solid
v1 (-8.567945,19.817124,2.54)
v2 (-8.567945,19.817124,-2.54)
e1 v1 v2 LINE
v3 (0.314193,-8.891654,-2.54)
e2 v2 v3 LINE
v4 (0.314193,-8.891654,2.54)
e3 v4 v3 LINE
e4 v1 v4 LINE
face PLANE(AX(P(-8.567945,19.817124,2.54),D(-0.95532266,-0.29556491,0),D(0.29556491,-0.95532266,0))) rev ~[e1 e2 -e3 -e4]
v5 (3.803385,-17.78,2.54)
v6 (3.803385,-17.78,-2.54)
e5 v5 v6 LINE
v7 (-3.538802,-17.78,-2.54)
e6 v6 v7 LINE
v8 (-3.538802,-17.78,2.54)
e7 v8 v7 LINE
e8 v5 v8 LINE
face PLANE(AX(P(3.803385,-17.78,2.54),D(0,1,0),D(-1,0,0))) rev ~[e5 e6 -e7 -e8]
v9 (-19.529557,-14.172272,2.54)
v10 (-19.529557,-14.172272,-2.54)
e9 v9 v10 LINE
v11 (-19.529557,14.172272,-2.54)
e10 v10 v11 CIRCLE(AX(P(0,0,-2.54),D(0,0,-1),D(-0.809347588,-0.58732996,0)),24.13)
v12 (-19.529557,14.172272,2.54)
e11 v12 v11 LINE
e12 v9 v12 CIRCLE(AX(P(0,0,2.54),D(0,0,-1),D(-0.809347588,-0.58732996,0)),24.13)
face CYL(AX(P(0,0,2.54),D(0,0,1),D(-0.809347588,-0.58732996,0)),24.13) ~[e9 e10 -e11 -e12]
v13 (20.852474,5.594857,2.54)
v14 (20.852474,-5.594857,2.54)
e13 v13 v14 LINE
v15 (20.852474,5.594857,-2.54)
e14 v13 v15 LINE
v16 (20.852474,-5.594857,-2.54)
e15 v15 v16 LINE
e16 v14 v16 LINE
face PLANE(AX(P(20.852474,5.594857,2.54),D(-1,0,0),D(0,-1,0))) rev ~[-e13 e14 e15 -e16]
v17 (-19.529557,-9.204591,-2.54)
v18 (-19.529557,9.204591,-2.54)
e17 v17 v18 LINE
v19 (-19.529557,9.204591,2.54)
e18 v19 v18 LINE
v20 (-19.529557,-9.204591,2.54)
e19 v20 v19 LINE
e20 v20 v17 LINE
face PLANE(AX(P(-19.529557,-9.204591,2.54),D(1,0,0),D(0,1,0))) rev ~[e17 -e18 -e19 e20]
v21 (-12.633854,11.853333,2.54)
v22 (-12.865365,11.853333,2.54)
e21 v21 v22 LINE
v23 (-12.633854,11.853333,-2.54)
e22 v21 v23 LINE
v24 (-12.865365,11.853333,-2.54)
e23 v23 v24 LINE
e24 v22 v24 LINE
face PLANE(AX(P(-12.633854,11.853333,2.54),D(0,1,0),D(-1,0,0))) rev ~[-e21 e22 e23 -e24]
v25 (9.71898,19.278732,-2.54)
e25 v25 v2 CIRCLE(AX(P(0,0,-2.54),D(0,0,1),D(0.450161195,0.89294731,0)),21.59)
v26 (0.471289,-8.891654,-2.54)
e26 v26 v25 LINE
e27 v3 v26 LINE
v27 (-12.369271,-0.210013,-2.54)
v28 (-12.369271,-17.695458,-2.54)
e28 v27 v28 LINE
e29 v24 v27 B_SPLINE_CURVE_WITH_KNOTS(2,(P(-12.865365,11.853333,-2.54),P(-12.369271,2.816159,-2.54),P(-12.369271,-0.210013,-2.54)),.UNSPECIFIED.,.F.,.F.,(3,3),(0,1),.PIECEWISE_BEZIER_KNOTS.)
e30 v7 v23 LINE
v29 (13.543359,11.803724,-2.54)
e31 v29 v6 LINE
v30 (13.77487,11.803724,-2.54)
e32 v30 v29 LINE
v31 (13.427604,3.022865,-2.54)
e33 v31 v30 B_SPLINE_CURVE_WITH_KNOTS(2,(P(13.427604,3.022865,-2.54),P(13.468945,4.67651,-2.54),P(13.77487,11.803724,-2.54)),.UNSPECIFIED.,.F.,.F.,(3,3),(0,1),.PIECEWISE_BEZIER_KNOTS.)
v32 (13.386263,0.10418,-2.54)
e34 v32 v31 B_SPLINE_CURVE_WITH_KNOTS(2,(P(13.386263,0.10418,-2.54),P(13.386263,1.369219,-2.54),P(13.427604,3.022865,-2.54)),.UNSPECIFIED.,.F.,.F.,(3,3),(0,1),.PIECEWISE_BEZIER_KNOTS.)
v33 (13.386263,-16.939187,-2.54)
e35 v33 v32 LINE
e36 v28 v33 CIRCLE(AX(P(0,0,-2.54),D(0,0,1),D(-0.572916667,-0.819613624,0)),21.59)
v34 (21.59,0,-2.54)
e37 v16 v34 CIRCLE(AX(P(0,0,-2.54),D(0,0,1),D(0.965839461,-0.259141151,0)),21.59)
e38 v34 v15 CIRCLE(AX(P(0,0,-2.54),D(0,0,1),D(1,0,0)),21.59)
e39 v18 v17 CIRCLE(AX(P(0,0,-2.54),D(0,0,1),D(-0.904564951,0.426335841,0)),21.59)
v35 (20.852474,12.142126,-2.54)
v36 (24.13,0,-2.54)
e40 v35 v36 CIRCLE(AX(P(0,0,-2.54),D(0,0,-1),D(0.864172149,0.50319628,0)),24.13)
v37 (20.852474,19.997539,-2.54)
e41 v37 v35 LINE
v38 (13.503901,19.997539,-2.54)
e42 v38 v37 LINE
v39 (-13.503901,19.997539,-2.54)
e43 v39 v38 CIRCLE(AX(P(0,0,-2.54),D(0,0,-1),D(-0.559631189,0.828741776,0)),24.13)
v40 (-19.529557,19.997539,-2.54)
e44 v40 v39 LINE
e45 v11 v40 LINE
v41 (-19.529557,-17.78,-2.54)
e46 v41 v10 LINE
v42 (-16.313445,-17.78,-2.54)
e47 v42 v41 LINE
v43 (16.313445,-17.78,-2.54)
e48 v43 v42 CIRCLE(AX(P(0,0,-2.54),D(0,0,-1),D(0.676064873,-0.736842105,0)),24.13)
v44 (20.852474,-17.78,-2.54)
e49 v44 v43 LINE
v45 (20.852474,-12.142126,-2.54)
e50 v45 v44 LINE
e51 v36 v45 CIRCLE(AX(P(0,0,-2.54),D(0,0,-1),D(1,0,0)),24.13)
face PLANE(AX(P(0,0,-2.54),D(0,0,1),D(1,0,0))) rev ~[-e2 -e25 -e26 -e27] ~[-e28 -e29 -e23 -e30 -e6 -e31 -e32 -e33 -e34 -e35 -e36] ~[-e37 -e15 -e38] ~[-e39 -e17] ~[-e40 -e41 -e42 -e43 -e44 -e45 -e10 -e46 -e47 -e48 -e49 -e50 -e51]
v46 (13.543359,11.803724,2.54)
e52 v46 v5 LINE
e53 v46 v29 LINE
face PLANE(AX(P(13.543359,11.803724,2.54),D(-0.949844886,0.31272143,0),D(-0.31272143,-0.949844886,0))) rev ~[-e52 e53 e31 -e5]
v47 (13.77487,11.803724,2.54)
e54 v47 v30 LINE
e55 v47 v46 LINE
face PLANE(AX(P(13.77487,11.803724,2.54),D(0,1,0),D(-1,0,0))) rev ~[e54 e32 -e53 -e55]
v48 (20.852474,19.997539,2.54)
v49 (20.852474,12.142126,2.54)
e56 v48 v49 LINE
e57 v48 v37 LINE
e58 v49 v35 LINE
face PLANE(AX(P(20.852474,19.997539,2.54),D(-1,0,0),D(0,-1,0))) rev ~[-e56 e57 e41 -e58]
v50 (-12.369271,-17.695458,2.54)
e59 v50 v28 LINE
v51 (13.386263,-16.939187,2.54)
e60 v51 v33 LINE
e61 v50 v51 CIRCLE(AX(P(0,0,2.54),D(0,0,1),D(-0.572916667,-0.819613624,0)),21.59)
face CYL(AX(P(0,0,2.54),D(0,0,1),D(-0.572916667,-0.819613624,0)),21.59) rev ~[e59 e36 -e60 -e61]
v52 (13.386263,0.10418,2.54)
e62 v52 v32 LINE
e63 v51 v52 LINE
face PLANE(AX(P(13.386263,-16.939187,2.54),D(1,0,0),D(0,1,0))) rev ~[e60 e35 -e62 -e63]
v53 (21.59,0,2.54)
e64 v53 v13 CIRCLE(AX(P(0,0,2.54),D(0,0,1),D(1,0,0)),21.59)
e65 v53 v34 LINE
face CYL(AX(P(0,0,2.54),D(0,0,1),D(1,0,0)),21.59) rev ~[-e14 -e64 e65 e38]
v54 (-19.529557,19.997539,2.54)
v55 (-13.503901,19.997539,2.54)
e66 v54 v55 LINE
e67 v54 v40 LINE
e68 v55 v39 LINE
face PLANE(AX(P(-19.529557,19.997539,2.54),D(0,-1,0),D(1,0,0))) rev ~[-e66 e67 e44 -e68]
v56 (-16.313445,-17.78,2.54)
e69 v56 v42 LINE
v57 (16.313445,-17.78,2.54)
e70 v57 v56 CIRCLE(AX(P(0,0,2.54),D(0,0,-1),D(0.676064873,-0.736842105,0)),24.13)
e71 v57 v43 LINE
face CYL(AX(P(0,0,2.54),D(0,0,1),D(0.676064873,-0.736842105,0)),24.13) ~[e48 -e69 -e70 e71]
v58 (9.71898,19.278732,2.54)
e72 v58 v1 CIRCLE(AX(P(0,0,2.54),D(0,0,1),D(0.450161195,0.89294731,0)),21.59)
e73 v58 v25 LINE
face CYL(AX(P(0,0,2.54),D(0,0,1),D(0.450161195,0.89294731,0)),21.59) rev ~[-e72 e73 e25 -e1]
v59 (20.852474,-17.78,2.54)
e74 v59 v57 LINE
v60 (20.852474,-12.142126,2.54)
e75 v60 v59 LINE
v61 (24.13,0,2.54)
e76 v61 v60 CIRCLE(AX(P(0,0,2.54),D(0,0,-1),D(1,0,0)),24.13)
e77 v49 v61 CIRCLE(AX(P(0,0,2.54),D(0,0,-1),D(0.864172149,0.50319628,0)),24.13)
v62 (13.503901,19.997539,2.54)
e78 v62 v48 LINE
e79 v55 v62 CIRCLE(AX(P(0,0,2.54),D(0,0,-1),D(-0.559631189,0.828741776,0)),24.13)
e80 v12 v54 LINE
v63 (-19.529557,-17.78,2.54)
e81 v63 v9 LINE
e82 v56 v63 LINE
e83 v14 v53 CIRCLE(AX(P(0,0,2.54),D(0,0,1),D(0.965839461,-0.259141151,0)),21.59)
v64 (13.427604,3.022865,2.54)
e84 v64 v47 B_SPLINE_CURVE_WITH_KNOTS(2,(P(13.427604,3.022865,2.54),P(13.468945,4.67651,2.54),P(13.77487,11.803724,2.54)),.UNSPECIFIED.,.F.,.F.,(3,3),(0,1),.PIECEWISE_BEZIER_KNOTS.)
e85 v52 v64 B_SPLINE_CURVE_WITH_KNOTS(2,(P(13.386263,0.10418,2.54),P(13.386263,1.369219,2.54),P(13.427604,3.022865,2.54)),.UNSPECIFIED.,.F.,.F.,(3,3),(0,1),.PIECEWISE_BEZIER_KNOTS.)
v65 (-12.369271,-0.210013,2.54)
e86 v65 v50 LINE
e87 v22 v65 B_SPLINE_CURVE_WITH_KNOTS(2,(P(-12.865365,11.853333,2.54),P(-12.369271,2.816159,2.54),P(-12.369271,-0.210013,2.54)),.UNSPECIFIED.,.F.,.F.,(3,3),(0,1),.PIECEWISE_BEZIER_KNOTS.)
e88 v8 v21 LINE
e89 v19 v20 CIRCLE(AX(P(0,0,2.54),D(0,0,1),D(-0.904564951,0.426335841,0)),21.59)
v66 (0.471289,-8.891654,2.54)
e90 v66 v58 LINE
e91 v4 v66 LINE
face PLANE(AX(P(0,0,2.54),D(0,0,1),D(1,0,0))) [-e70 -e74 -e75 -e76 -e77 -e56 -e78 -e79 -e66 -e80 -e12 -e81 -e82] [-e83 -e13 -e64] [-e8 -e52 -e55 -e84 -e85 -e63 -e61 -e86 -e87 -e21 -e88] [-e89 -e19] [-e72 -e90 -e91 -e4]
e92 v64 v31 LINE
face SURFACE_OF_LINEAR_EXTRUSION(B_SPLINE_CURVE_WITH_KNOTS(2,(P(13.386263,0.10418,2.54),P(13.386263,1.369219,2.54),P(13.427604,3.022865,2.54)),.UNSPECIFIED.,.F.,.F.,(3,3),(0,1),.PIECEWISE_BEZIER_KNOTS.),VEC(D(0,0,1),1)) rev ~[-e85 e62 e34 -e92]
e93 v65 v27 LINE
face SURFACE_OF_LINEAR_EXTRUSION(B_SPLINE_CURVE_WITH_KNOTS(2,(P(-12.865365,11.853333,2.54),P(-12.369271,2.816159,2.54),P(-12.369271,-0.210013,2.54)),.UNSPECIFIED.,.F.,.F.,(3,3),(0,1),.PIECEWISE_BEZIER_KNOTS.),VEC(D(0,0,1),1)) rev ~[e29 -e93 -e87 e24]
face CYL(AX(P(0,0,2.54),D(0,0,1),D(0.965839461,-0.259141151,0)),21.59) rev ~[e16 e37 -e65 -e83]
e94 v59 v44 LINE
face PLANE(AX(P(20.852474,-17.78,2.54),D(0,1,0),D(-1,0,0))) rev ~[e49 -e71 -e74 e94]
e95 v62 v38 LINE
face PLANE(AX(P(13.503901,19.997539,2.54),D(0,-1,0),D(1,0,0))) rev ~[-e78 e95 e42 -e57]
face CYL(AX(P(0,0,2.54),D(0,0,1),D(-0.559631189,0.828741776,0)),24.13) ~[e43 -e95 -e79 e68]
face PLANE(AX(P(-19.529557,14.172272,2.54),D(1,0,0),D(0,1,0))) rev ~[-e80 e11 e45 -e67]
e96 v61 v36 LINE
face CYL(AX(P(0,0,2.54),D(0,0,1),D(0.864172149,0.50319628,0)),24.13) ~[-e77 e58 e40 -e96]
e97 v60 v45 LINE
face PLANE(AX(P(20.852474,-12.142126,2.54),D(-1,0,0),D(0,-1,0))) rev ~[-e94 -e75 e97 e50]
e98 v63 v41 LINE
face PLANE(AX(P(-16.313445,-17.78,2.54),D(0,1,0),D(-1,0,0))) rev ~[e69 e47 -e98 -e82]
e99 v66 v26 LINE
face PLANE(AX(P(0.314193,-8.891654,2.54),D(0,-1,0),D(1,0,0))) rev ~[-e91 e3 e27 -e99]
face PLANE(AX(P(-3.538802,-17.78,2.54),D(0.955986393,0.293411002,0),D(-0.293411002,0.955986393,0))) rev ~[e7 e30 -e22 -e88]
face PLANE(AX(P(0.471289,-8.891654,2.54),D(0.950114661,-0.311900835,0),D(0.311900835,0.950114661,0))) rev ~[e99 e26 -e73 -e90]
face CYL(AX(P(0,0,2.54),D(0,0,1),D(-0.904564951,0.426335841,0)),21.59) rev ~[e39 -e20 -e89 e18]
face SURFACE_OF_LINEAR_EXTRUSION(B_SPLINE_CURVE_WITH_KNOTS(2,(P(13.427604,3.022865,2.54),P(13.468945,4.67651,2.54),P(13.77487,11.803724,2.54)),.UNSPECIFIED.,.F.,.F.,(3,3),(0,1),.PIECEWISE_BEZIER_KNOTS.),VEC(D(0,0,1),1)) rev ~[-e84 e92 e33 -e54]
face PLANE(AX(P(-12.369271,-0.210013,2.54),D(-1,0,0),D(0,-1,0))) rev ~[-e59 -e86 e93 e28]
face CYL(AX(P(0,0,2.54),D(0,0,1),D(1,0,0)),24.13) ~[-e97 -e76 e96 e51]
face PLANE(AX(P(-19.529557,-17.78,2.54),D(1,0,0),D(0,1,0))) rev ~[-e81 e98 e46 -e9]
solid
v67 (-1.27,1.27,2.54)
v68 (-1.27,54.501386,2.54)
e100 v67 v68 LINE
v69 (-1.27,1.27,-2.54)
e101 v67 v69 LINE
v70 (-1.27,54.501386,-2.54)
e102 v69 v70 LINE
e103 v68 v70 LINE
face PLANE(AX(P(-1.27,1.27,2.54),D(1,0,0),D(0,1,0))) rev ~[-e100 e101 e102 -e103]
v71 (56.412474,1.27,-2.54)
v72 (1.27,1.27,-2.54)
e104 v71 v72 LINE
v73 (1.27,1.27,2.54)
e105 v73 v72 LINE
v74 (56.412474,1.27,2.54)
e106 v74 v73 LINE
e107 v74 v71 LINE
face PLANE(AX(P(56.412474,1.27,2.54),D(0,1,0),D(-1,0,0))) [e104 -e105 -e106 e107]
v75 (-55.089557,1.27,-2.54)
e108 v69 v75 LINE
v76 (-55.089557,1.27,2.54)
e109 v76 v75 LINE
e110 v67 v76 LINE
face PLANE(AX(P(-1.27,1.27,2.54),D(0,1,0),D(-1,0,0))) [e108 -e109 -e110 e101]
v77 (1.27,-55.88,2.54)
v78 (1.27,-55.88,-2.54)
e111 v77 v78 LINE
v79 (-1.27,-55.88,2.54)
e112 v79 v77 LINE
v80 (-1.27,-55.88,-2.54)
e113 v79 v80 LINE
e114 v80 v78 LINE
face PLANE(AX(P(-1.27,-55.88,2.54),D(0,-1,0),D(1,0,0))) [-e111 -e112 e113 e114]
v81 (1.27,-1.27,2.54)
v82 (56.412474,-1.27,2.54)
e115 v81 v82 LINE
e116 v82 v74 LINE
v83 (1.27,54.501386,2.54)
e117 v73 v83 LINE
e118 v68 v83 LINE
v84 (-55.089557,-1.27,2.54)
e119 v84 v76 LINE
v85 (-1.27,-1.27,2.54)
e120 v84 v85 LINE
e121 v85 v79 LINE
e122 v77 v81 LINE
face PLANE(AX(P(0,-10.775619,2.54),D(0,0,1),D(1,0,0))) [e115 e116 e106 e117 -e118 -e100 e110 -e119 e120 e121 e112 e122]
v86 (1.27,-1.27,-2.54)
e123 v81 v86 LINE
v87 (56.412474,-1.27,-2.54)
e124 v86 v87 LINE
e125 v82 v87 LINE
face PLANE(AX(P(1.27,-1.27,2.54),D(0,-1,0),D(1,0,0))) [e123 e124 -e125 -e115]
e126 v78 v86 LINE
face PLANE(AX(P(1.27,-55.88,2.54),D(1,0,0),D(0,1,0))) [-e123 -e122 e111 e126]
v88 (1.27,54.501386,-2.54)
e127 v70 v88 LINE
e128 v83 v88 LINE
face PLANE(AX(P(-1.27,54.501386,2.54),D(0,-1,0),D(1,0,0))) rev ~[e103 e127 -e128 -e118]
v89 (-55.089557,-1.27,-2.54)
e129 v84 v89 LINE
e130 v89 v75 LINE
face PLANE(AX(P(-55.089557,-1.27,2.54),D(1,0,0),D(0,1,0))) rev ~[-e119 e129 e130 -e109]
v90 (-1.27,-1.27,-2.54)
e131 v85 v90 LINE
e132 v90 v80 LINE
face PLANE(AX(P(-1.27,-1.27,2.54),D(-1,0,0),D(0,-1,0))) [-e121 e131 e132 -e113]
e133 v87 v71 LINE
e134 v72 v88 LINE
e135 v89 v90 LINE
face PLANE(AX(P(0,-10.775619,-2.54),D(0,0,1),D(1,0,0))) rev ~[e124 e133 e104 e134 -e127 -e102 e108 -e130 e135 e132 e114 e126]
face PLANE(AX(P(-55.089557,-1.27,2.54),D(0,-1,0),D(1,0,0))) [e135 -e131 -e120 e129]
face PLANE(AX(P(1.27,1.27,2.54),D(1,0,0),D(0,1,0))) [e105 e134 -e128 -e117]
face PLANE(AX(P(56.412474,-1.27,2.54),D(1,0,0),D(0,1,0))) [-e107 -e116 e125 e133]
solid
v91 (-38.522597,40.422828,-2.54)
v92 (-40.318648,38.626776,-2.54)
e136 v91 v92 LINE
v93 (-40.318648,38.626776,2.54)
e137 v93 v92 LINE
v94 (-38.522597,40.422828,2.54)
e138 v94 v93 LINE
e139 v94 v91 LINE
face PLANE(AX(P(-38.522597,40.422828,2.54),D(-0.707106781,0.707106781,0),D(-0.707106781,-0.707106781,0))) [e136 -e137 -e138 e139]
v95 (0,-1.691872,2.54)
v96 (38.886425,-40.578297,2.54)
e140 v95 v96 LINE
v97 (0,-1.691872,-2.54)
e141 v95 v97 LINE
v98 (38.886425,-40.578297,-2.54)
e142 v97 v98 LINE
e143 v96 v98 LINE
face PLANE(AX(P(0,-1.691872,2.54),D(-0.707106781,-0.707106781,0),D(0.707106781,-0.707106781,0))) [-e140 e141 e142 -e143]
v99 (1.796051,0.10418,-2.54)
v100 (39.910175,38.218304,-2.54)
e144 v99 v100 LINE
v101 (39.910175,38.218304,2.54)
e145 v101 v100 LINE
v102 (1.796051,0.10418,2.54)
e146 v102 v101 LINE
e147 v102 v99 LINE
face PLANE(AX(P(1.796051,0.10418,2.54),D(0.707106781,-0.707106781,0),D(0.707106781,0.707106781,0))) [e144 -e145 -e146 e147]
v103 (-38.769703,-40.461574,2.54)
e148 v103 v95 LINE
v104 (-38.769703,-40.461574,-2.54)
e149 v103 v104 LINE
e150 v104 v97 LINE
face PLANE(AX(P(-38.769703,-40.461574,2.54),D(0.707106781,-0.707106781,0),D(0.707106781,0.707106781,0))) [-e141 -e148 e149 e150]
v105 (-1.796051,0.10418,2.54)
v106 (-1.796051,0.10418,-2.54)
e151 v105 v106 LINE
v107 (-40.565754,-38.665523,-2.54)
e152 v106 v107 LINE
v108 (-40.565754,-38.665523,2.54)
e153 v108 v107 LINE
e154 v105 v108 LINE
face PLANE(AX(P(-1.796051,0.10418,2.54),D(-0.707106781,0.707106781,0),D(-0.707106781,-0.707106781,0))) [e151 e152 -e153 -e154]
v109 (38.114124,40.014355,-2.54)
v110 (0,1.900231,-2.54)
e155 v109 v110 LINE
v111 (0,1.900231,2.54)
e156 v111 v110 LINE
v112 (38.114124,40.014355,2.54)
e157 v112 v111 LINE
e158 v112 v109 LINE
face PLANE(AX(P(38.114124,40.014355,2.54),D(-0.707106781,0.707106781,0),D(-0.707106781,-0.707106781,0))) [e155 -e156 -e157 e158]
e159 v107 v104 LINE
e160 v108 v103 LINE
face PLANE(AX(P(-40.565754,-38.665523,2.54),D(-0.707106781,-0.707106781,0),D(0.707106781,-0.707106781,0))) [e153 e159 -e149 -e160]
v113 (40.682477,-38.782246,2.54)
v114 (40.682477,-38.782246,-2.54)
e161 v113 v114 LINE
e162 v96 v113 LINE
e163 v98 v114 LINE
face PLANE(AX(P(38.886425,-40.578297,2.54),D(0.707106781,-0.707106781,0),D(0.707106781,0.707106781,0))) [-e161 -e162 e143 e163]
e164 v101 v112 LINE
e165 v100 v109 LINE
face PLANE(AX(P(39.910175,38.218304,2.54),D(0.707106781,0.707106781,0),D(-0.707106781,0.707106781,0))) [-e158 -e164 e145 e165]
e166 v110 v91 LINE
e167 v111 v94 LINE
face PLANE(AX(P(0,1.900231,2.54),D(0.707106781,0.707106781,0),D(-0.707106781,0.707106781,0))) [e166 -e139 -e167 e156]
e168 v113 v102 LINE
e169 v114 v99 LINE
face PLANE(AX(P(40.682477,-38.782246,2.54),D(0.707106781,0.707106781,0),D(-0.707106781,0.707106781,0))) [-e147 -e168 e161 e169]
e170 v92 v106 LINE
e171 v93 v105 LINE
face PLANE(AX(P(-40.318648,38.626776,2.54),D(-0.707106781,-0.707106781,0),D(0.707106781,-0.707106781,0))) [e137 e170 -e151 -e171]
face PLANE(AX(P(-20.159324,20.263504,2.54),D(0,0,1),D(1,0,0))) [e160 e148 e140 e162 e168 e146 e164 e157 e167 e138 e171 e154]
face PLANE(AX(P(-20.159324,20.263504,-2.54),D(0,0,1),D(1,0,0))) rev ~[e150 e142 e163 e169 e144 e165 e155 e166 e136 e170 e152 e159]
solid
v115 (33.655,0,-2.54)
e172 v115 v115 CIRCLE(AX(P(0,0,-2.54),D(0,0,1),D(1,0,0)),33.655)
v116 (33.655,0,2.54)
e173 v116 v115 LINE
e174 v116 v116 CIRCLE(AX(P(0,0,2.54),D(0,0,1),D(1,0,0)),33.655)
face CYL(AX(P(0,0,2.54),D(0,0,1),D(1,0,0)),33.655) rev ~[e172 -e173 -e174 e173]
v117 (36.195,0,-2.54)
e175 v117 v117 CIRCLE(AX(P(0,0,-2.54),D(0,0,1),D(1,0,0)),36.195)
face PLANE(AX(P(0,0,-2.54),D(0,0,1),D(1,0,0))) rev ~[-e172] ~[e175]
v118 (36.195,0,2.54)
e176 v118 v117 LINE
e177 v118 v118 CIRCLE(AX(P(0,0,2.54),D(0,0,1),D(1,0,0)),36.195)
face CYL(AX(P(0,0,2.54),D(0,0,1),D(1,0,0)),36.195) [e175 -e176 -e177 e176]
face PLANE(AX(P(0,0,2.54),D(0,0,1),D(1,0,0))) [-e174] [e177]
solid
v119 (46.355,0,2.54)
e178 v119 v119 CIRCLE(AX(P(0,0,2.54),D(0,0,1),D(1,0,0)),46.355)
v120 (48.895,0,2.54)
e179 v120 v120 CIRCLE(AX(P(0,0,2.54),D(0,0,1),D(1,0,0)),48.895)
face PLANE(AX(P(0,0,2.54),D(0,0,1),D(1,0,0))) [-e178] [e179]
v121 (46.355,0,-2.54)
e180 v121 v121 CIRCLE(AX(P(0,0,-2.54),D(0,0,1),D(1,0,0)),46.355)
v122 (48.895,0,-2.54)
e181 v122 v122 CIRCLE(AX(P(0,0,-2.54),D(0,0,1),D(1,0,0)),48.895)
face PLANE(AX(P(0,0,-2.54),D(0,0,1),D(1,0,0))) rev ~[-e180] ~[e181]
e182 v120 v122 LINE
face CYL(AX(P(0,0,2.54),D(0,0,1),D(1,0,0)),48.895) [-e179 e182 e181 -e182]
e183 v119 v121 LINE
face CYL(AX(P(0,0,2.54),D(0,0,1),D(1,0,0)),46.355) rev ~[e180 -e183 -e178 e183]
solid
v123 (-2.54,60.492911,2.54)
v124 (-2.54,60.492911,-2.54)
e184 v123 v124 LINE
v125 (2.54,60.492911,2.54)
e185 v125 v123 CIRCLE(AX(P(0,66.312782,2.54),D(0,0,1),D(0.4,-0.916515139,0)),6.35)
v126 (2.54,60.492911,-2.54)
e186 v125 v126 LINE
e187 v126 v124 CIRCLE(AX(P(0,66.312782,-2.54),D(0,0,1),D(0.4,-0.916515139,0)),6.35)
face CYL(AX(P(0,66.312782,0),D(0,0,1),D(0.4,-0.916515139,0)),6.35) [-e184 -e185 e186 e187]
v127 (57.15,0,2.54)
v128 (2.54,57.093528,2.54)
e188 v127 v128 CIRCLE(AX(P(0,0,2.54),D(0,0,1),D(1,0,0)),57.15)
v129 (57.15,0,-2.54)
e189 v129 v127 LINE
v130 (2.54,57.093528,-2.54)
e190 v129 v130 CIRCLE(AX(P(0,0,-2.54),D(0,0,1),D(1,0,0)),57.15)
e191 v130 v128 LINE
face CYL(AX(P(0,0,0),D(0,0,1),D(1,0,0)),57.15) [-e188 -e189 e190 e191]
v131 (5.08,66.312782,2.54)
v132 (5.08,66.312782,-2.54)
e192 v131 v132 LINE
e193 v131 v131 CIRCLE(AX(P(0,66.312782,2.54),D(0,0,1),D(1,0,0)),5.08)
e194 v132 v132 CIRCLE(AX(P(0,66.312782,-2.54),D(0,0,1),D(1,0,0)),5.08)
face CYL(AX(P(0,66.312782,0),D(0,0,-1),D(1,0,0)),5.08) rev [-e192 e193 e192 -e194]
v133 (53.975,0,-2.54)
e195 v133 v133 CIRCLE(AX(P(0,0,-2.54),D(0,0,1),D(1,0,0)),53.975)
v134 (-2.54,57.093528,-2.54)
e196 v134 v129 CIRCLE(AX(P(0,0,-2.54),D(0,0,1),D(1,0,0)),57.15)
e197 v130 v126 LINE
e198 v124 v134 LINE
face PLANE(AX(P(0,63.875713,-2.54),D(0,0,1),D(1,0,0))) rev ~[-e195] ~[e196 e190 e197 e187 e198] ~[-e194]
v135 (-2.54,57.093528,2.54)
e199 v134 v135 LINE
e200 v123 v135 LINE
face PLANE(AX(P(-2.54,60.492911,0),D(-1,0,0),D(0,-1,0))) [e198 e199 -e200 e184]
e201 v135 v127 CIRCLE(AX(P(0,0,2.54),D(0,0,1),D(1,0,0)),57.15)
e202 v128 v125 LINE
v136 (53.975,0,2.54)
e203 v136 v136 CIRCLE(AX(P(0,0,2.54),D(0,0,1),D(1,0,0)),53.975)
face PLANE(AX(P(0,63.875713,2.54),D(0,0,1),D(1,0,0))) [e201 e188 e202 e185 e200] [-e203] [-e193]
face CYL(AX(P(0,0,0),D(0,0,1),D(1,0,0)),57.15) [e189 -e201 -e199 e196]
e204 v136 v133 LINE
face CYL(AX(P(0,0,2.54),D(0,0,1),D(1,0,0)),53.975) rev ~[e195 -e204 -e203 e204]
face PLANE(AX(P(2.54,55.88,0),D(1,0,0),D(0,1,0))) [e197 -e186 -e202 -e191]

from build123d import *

# Parameters (mm, degrees)
F0_R     = 57.15
F1_DEPTH = 2.54
F2_R     = 53.975
F2_R_2   = 48.895
F2_R_3   = 46.355
F2_R_4   = 36.195
F2_R_5   = 33.655
F3_DEPTH = 5.08
F4_W     = 2.54
F4_H     = 38.1
F4_H_2   = 2.501237991
F4_W_2   = 18.2595572917
F4_H_3   = 2.54
F4_H_4   = 53.2313856006
F4_W_3   = 35.56
F4_W_4   = 19.5824739583
F5_DEPTH = 5.08
F7_DEPTH = 5.08
F8_R     = 5.08
F9_DEPTH = 2.54


with BuildPart() as f1:
    # F0 (on Top) → F1 (new body, symmetric)
    with BuildSketch(Plane.XY):
        Circle(F0_R)
    extrude(amount=F1_DEPTH, both=True)

    # F2 (on face) → F3 (cut, through all)
    with BuildSketch(Plane.XY.offset(2.54)):
        Circle(F2_R)
        Circle(F2_R_2, mode=Mode.SUBTRACT)
        Circle(F2_R_3)
        Circle(F2_R_4, mode=Mode.SUBTRACT)
        Circle(F2_R_5)
        with BuildLine():
            Line((20.8524739583, 19.9975390625), (20.8524739583, 12.1421262478))
            ThreePointArc((20.8524739583, 12.1421262478), (23.2962131753, 6.2883504747), (24.13, 0))
            ThreePointArc((24.13, 0), (23.2962131753, -6.2883504747), (20.8524739583, -12.1421262478))
            Line((20.8524739583, -12.1421262478), (20.8524739583, -17.78))
            Line((20.8524739583, -17.78), (16.3134453749, -17.78))
            ThreePointArc((16.3134453749, -17.78), (0, -24.13), (-16.3134453749, -17.78))
            Line((-16.3134453749, -17.78), (-19.5295572917, -17.78))
            Line((-19.5295572917, -17.78), (-19.5295572917, -14.1722719418))
            ThreePointArc((-19.5295572917, -14.1722719418), (-24.13, 0), (-19.5295572917, 14.1722719418))
            Line((-19.5295572917, 14.1722719418), (-19.5295572917, 19.9975390625))
            Line((-19.5295572917, 19.9975390625), (-13.5039006011, 19.9975390625))
            ThreePointArc((-13.5039006011, 19.9975390625), (0, 24.13), (13.5039006011, 19.9975390625))
            Line((13.5039006011, 19.9975390625), (20.8524739583, 19.9975390625))
        make_face(mode=Mode.SUBTRACT)
        with BuildLine():
            ThreePointArc((-12.3692708333, -17.6954581475), (0.6336834551, -21.5806984428), (13.3862630208, -16.9391871805))
            Line((13.3862630208, -16.9391871805), (13.3862630208, 0.1041796875))
            add(Edge.make_bspline(
                [(13.3862630208, 0.1041796875), (13.3862630208, 1.36921875), (13.4276041667, 3.0228645833)],
                knots=[0, 0, 0, 1, 1, 1], degree=2))
            add(Edge.make_bspline(
                [(13.4276041667, 3.0228645833), (13.4689453125, 4.6765104167), (13.7748697917, 11.8037239583)],
                knots=[0, 0, 0, 1, 1, 1], degree=2))
            Line((13.7748697917, 11.8037239583), (13.543359375, 11.8037239583))
            Line((13.543359375, 11.8037239583), (3.8033854167, -17.78))
            Line((3.8033854167, -17.78), (-3.5388020833, -17.78))
            Line((-3.5388020833, -17.78), (-12.6338541667, 11.8533333333))
            Line((-12.6338541667, 11.8533333333), (-12.8653645833, 11.8533333333))
            add(Edge.make_bspline(
                [(-12.8653645833, 11.8533333333), (-12.3692708333, 2.8161588542), (-12.3692708333, -0.2100130208)],
                knots=[0, 0, 0, 1, 1, 1], degree=2))
            Line((-12.3692708333, -0.2100130208), (-12.3692708333, -17.6954581475))
        make_face()
        with BuildLine():
            Line((0.4712890625, -8.8916536458), (9.7189801969, 19.2787324254))
            ThreePointArc((9.7189801969, 19.2787324254), (0.6353636743, 21.5806490403), (-8.5679449715, 19.8171243869))
            Line((-8.5679449715, 19.8171243869), (0.3141927083, -8.8916536458))
            Line((0.3141927083, -8.8916536458), (0.4712890625, -8.8916536458))
        make_face()
        with BuildLine():
            Line((-19.5295572917, -9.2045908107), (-19.5295572917, 9.2045908107))
            ThreePointArc((-19.5295572917, 9.2045908107), (-21.59, 0), (-19.5295572917, -9.2045908107))
        make_face()
        with BuildLine():
            ThreePointArc((20.8524739583, -5.5948574439), (21.4048243716, -2.8216296036), (21.59, 0))
            ThreePointArc((21.59, 0), (21.4048243716, 2.8216296036), (20.8524739583, 5.5948574439))
            Line((20.8524739583, 5.5948574439), (20.8524739583, -5.5948574439))
        make_face()
    extrude(amount=-F3_DEPTH, mode=Mode.SUBTRACT)

    # F8 (on Top) → F9 (join, symmetric)
    with BuildSketch(Plane.XY):
        with BuildLine():
            Line((-2.54, 60.4929113338), (-2.54, 55.88))
            Line((-2.54, 55.88), (2.54, 55.88))
            Line((2.54, 55.88), (2.54, 60.4929113338))
            ThreePointArc((2.54, 60.4929113338), (0, 72.6627824664), (-2.54, 60.4929113338))
        make_face()
        with Locations((0, 66.3127824664)):
            Circle(F8_R, mode=Mode.SUBTRACT)
    extrude(amount=F9_DEPTH, both=True)


with BuildPart() as f5:
    # F4 (on face) → F5 (new body, through all)
    with BuildSketch(Plane.XY.offset(2.54)):
        Polygon((-1.27, -3.771237991), (-1.27, -17.78), (1.27, -17.78), (1.27, -6.4586143994), (1.27, -3.771237991), align=None)
        with Locations((0, -36.83)):
            Rectangle(F4_W, F4_H)
        with Locations((0, -2.5206189955)):
            Rectangle(F4_W, F4_H_2)
        with Locations((-10.3997786458, 0)):
            Rectangle(F4_W_2, F4_H_3)
        Rectangle(F4_W, F4_H_3)
        with Locations((0, 27.8856928003)):
            Rectangle(F4_W, F4_H_4)
        with Locations((-37.3095572917, 0)):
            Rectangle(F4_W_3, F4_H_3)
        with Locations((11.0612369792, 0)):
            Rectangle(F4_W_4, F4_H_3)
        with Locations((38.6324739583, 0)):
            Rectangle(F4_W_3, F4_H_3)
    extrude(amount=-F5_DEPTH)


with BuildPart() as f7:
    # F6 (on face) → F7 (new body, through all)
    with BuildSketch(Plane.XY.offset(2.54)):
        Polygon((-38.522596748, 40.4228276597), (-40.3186479722, 38.6267764355), (-1.7960512242, 0.1041796875), (0, 1.9002309117), align=None)
        Polygon((0, 1.9002309117), (-1.7960512242, 0.1041796875), (0, -1.6918715367), (1.7960512242, 0.1041796875), align=None)
        Polygon((0, -1.6918715367), (-1.7960512242, 0.1041796875), (-40.56575401, -38.6655230982), (-38.7697027857, -40.4615743225), align=None)
        Polygon((1.7960512242, 0.1041796875), (0, -1.6918715367), (38.886425444, -40.5782969807), (40.6824766682, -38.7822457565), align=None)
        Polygon((38.1141242547, 40.0143551664), (0, 1.9002309117), (1.7960512242, 0.1041796875), (39.9101754789, 38.2183039422), align=None)
    extrude(amount=-F7_DEPTH)


solid = Compound([f1.part, f5.part, f7.part])
